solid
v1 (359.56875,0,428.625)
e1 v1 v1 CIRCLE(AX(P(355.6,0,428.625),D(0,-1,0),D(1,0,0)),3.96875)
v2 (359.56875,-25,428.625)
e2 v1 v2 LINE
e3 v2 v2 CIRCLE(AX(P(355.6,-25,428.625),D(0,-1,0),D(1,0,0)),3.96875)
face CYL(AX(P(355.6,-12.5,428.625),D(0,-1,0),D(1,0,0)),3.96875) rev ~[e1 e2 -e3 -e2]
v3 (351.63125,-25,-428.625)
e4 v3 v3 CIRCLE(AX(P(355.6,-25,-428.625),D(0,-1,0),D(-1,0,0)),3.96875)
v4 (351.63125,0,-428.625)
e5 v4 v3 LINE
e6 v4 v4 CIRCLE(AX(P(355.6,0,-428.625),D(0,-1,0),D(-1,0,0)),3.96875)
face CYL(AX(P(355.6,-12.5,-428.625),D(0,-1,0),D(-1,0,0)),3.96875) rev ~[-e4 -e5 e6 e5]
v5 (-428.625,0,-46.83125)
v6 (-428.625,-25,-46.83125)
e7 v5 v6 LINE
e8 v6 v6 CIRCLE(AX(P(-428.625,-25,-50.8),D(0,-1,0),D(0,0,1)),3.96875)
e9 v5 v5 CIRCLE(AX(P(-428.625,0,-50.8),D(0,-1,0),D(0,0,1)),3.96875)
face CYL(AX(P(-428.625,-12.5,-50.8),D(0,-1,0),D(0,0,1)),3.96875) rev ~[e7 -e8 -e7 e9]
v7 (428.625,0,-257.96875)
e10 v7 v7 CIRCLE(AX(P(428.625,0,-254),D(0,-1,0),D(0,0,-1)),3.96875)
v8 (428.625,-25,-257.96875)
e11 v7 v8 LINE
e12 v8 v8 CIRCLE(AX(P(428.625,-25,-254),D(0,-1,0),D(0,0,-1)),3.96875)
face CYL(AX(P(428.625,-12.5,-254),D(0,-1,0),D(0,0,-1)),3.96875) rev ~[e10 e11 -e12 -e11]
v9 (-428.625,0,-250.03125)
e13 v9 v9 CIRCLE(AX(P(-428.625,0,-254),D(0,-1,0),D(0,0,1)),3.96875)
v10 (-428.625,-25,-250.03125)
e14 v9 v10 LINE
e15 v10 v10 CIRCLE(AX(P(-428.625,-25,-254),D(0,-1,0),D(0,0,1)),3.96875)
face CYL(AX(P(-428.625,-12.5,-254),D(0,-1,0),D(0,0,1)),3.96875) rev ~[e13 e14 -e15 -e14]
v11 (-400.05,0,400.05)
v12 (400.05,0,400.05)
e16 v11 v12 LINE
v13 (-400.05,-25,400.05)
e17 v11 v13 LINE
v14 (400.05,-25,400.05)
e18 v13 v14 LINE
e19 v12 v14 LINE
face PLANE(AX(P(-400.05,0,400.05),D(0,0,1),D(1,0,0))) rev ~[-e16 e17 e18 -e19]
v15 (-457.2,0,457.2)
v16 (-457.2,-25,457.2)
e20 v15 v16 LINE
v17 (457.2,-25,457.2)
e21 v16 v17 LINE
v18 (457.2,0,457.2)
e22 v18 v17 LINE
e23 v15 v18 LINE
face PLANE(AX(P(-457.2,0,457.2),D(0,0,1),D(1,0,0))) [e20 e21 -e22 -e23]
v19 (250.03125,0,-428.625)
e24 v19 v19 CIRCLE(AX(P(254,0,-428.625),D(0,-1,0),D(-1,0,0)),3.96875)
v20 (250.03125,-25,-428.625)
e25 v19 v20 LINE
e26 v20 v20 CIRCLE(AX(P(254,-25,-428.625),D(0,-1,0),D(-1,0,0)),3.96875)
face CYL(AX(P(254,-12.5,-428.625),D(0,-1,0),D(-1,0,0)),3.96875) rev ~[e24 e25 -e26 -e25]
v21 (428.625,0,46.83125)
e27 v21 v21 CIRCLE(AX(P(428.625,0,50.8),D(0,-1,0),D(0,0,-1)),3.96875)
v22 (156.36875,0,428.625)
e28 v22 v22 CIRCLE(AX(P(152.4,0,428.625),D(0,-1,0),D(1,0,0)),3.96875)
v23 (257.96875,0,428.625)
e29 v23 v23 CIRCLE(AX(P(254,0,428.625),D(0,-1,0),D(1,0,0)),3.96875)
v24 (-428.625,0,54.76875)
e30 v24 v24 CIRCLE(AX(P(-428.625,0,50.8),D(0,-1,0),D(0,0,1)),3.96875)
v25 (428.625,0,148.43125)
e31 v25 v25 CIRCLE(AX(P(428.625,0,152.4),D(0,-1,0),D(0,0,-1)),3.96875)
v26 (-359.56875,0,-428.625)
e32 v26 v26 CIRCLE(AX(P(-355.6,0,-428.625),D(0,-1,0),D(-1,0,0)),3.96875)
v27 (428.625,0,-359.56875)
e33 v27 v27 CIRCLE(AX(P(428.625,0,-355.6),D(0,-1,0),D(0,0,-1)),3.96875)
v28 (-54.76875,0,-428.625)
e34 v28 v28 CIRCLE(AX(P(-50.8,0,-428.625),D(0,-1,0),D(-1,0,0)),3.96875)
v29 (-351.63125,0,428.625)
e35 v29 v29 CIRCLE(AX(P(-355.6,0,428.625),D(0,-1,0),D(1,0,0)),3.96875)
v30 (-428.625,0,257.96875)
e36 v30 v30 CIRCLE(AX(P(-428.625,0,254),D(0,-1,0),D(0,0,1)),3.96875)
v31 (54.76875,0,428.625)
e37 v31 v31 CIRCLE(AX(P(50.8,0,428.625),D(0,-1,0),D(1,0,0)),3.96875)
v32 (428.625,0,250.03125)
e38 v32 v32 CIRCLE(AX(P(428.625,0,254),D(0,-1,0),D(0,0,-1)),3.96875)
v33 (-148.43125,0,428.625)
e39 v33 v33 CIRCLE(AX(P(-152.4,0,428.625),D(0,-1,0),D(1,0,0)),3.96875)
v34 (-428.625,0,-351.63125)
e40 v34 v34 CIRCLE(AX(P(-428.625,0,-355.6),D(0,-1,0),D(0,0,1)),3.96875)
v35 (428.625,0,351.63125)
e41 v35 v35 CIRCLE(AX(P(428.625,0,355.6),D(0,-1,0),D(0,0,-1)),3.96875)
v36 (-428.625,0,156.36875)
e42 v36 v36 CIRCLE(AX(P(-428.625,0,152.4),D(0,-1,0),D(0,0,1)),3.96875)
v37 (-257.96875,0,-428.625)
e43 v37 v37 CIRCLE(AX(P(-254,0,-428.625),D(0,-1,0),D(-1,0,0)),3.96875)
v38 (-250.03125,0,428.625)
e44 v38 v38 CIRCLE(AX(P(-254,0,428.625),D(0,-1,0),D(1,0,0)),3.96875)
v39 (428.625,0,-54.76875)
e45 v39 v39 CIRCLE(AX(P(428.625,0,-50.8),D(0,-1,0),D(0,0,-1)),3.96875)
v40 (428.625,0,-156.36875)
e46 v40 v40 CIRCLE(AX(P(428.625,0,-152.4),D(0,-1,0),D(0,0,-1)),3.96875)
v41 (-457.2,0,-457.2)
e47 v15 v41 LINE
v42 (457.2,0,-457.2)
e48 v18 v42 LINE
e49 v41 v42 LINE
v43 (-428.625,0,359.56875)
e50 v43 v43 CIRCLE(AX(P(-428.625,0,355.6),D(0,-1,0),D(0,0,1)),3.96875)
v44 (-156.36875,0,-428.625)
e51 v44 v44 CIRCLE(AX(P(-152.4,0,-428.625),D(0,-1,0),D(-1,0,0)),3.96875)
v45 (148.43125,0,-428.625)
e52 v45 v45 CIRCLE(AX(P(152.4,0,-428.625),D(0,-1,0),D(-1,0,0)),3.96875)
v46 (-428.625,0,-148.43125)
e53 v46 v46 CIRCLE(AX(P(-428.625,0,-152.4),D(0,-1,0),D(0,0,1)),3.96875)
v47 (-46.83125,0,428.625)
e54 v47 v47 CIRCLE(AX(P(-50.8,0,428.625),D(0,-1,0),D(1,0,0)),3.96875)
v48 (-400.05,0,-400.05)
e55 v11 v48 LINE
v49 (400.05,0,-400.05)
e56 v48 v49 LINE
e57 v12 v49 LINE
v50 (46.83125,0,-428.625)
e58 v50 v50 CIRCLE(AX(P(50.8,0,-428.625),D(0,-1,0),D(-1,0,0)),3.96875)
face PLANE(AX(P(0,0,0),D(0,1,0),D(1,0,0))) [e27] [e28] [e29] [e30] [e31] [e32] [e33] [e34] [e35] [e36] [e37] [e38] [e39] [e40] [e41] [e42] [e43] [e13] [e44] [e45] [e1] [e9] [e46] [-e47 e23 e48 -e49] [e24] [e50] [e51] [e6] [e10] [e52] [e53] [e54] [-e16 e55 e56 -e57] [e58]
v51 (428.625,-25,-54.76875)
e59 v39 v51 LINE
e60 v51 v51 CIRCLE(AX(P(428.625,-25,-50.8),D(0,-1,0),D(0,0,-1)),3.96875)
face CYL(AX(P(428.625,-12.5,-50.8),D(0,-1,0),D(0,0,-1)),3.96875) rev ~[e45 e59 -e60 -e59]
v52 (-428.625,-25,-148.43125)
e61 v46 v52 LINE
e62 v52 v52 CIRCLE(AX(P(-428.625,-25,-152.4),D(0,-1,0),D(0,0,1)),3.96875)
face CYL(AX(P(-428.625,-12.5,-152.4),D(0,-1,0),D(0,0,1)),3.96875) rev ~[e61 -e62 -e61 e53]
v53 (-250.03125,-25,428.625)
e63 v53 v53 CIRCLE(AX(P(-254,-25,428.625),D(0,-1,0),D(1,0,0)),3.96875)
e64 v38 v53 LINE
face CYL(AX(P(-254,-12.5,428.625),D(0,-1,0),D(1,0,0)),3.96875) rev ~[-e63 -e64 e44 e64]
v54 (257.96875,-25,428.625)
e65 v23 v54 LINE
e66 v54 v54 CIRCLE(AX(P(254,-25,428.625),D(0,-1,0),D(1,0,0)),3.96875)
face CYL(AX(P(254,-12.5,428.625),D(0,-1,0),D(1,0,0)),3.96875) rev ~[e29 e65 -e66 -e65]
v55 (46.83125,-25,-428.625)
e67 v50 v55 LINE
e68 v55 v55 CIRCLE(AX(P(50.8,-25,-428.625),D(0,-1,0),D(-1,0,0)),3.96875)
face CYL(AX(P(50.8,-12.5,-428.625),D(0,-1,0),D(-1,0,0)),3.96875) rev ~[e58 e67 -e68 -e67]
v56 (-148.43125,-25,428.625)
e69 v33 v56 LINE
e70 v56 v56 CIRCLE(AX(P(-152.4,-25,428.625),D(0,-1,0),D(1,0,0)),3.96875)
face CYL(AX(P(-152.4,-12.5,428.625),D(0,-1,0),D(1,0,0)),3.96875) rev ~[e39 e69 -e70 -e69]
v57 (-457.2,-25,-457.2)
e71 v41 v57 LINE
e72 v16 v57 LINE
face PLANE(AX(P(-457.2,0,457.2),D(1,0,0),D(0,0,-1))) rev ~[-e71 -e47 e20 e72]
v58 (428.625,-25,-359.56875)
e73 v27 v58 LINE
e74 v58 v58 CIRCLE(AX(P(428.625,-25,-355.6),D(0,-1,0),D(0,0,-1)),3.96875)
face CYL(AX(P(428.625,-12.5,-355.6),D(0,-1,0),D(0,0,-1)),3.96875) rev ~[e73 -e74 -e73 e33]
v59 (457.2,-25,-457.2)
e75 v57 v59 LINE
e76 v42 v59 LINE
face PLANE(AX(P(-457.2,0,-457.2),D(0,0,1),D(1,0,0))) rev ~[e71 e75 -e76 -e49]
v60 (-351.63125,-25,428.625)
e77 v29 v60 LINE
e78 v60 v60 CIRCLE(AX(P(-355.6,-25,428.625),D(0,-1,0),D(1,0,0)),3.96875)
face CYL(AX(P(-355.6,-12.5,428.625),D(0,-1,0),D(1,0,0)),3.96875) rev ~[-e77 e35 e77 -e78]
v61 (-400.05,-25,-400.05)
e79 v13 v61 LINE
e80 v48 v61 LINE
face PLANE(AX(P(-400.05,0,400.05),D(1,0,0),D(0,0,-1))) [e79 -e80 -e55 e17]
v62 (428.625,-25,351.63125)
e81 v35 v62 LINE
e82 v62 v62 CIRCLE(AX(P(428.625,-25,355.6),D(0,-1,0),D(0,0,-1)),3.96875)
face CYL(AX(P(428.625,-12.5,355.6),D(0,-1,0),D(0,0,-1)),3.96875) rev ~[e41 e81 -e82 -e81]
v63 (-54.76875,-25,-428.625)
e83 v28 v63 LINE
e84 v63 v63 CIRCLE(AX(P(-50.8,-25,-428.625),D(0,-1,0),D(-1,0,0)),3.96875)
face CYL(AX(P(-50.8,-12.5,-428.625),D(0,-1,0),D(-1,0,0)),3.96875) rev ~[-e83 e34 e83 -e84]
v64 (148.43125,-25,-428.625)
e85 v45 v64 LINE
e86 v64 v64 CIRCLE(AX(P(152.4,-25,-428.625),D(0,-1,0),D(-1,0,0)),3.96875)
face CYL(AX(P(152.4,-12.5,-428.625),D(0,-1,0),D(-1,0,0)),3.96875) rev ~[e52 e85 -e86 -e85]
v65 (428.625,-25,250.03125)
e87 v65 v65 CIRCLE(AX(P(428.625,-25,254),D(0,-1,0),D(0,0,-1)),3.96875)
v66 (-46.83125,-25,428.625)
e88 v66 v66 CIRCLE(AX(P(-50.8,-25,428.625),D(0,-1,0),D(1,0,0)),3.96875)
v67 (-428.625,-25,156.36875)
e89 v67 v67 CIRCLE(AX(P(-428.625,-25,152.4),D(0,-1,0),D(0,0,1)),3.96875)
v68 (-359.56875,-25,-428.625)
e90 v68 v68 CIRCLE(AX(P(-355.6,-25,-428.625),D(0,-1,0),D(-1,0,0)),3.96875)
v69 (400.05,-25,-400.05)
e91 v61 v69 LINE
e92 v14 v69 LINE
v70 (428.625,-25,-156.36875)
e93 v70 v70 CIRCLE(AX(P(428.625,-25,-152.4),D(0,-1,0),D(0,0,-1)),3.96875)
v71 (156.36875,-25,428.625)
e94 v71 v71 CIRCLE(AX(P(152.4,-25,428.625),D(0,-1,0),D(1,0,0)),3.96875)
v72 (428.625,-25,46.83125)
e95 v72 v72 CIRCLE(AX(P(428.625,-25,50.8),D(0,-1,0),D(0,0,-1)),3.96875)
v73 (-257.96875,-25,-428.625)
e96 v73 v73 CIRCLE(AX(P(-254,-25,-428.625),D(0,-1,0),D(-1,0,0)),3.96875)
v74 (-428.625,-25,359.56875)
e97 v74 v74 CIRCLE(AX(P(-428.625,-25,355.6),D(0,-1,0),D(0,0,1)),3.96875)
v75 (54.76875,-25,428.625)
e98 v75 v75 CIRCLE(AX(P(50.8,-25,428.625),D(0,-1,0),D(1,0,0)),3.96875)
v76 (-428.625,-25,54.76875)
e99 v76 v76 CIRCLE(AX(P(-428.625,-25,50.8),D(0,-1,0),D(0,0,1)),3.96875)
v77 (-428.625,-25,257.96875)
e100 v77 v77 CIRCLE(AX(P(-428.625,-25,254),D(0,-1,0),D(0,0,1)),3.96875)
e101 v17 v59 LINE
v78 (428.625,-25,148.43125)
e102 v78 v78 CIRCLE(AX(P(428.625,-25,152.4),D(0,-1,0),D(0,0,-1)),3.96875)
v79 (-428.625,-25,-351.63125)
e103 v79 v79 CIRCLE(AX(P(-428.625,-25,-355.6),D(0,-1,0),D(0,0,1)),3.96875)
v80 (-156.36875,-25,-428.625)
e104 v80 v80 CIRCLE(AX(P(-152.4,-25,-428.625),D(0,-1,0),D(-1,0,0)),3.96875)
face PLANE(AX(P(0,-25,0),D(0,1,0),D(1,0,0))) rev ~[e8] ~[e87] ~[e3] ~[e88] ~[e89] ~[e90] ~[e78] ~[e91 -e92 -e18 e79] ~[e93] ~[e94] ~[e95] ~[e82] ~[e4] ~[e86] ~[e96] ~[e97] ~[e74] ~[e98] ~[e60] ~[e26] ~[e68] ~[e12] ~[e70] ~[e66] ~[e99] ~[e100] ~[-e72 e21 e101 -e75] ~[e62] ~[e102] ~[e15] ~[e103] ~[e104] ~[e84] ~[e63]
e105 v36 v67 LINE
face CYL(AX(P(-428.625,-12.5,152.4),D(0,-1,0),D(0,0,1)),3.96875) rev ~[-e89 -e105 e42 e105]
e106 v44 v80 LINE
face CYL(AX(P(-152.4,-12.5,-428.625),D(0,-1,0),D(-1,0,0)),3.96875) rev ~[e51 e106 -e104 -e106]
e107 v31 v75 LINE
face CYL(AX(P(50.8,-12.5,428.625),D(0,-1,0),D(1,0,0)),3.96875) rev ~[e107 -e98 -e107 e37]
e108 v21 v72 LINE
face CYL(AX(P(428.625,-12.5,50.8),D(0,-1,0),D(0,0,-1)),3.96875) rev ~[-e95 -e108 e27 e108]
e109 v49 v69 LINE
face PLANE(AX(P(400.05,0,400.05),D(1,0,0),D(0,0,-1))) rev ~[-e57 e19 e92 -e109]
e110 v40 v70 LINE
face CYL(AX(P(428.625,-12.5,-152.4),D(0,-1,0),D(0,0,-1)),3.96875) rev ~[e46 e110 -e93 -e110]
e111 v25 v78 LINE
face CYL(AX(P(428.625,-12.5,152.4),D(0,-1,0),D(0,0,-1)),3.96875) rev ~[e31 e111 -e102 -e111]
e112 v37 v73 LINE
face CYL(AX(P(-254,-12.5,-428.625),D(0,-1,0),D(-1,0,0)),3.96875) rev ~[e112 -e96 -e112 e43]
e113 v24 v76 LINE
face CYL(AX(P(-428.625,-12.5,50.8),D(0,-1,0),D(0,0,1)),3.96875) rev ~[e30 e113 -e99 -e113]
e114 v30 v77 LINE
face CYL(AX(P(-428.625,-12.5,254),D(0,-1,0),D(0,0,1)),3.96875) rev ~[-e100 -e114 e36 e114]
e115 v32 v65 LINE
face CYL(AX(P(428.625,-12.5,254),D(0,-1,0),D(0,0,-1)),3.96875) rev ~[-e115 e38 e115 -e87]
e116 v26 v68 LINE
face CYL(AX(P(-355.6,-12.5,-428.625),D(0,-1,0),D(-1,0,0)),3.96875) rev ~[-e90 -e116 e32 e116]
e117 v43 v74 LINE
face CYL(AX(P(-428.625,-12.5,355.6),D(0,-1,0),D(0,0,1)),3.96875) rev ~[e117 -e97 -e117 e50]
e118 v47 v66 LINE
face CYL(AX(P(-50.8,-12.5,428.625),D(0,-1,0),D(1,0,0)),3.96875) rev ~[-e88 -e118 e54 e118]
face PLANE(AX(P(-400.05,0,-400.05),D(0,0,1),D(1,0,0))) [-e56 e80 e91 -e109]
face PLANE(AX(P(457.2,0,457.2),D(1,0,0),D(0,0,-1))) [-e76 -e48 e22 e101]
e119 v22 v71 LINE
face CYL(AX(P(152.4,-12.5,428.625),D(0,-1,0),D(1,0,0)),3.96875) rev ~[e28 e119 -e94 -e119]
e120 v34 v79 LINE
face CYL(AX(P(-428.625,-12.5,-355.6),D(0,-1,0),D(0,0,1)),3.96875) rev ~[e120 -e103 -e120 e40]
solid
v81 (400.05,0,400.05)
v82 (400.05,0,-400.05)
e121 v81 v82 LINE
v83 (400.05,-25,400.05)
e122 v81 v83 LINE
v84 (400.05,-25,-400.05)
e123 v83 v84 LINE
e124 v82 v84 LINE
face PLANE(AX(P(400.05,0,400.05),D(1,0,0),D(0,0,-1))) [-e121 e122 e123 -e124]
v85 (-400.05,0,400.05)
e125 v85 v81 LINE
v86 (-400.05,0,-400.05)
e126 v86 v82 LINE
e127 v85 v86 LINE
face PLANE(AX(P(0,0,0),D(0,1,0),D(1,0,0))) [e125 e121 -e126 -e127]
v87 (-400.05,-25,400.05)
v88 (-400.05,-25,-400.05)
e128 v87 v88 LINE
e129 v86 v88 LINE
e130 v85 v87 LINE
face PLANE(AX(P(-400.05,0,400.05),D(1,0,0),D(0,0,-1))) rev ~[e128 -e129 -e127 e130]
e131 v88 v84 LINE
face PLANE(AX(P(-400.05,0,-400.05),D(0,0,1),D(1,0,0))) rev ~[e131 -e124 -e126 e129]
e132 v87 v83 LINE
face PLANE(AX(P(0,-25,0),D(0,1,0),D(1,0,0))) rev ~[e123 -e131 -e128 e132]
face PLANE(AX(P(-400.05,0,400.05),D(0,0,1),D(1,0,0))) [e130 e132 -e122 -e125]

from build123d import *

# Parameters (mm, degrees)
SKETCH1_W                    = 800.1
SKETCH1_H                    = 800.1
BOSS_EXTRUDE1_DEPTH          = 25
SKETCH2_W                    = 914.4
SKETCH2_H                    = 914.4
SKETCH2_W_2                  = 800.1
SKETCH2_H_2                  = 800.1
BOSS_EXTRUDE2_DEPTH          = 25
SKETCH3_W                    = 3.96875
SKETCH3_H                    = 25
LPATTERN1_COUNT              = 4
LPATTERN1_PITCH              = 101.6
LPATTERN1_COL_COUNT          = 5
LPATTERN1_COL_PITCH          = 101.6
CIRPATTERN1_COUNT            = 4
CIRPATTERN1_COPY_1_SKETCH_W  = 3.96875
CIRPATTERN1_COPY_1_SKETCH_H  = 25
CIRPATTERN1_COPY_2_SKETCH_W  = 3.96875
CIRPATTERN1_COPY_2_SKETCH_H  = 25
CIRPATTERN1_COPY_3_SKETCH_W  = 3.96875
CIRPATTERN1_COPY_3_SKETCH_H  = 25
CIRPATTERN1_COPY_4_SKETCH_W  = 3.96875
CIRPATTERN1_COPY_4_SKETCH_H  = 25
CIRPATTERN1_COPY_5_SKETCH_W  = 3.96875
CIRPATTERN1_COPY_5_SKETCH_H  = 25
CIRPATTERN1_COPY_6_SKETCH_W  = 3.96875
CIRPATTERN1_COPY_6_SKETCH_H  = 25
CIRPATTERN1_COPY_7_SKETCH_W  = 3.96875
CIRPATTERN1_COPY_7_SKETCH_H  = 25
CIRPATTERN1_COPY_8_SKETCH_W  = 3.96875
CIRPATTERN1_COPY_8_SKETCH_H  = 25
CIRPATTERN1_COPY_9_SKETCH_W  = 3.96875
CIRPATTERN1_COPY_9_SKETCH_H  = 25
CIRPATTERN1_COPY_10_SKETCH_W = 3.96875
CIRPATTERN1_COPY_10_SKETCH_H = 25
CIRPATTERN1_COPY_11_SKETCH_W = 3.96875
CIRPATTERN1_COPY_11_SKETCH_H = 25
CIRPATTERN1_COPY_12_SKETCH_W = 3.96875
CIRPATTERN1_COPY_12_SKETCH_H = 25
CIRPATTERN1_COPY_13_SKETCH_W = 3.96875
CIRPATTERN1_COPY_13_SKETCH_H = 25
CIRPATTERN1_COPY_14_SKETCH_W = 3.96875
CIRPATTERN1_COPY_14_SKETCH_H = 25
CIRPATTERN1_COPY_15_SKETCH_W = 3.96875
CIRPATTERN1_COPY_15_SKETCH_H = 25
CIRPATTERN1_COPY_16_SKETCH_W = 3.96875
CIRPATTERN1_COPY_16_SKETCH_H = 25
CIRPATTERN1_COPY_17_SKETCH_W = 3.96875
CIRPATTERN1_COPY_17_SKETCH_H = 25
CIRPATTERN1_COPY_18_SKETCH_W = 3.96875
CIRPATTERN1_COPY_18_SKETCH_H = 25
CIRPATTERN1_COPY_19_SKETCH_W = 3.96875
CIRPATTERN1_COPY_19_SKETCH_H = 25
CIRPATTERN1_COPY_20_SKETCH_W = 3.96875
CIRPATTERN1_COPY_20_SKETCH_H = 25
CIRPATTERN1_COPY_21_SKETCH_W = 3.96875
CIRPATTERN1_COPY_21_SKETCH_H = 25


with BuildPart() as part:
    # Sketch1 → Boss-Extrude1 (new body)
    with BuildSketch(Plane(origin=(0, 0, 0), x_dir=(1, 0, 0), z_dir=(0, 1, 0))):
        Rectangle(SKETCH1_W, SKETCH1_H)
    extrude(amount=-BOSS_EXTRUDE1_DEPTH)


with BuildPart() as body_2:
    # Sketch2 → Boss-Extrude2 (new body, through all)
    with BuildSketch(Plane(origin=(0, 0, 0), x_dir=(1, 0, 0), z_dir=(0, 1, 0))):
        Rectangle(SKETCH2_W, SKETCH2_H)
        Rectangle(SKETCH2_W_2, SKETCH2_H_2, mode=Mode.SUBTRACT)
    extrude(amount=-BOSS_EXTRUDE2_DEPTH)

    # Sketch3 → 3_8-16 Tapped Hole1 (revolve, cut)
    with BuildSketch(Plane(origin=(-428.625, 0, 50.8), x_dir=(0, 0, 1), z_dir=(1, 0, 0))):
        with Locations((1.984375, 12.5)):
            Rectangle(SKETCH3_W, SKETCH3_H)
    f_3_8_16_tapped_hole1 = revolve(axis=Axis((-428.625, 6.35, 50.8), (0, -1, 0)), mode=Mode.SUBTRACT)

    # LPattern1: 3_8-16 Tapped Hole1 ×4
    with Locations(*[(0, 0, i * LPATTERN1_PITCH) for i in range(1, LPATTERN1_COUNT)]):
        add(f_3_8_16_tapped_hole1, mode=Mode.SUBTRACT)

    # LPattern1 col: 3_8-16 Tapped Hole1 ×5
    with Locations(*[(0, 0, -i * LPATTERN1_COL_PITCH) for i in range(1, LPATTERN1_COL_COUNT)]):
        add(f_3_8_16_tapped_hole1, mode=Mode.SUBTRACT)

    # CirPattern1: 3_8-16 Tapped Hole1 ×4 about axis
    cirpattern1_axis = Axis((0, 0, 0), (0, 1, 0))
    for i in range(1, CIRPATTERN1_COUNT):
        add(f_3_8_16_tapped_hole1.rotate(cirpattern1_axis, i * 360 / CIRPATTERN1_COUNT), mode=Mode.SUBTRACT)

    # CirPattern1 copy 1 sketch → CirPattern1 copy 1 (revolve, cut)
    with BuildSketch(Plane(origin=(152.4, 0, 428.625), x_dir=(1, 0, 0), z_dir=(0, 0, -1))):
        with Locations((1.984375, 12.5)):
            Rectangle(CIRPATTERN1_COPY_1_SKETCH_W, CIRPATTERN1_COPY_1_SKETCH_H)
    revolve(axis=Axis((152.4, 6.35, 428.625), (0, -1, 0)), mode=Mode.SUBTRACT)

    # CirPattern1 copy 2 sketch → CirPattern1 copy 2 (revolve, cut)
    with BuildSketch(Plane(origin=(428.625, 0, -152.4), x_dir=(0, 0, -1), z_dir=(-1, 0, 0))):
        with Locations((1.984375, 12.5)):
            Rectangle(CIRPATTERN1_COPY_2_SKETCH_W, CIRPATTERN1_COPY_2_SKETCH_H)
    revolve(axis=Axis((428.625, 6.35, -152.4), (0, -1, 0)), mode=Mode.SUBTRACT)

    # CirPattern1 copy 3 sketch → CirPattern1 copy 3 (revolve, cut)
    with BuildSketch(Plane(origin=(-152.4, 0, -428.625), x_dir=(-1, 0, 0), z_dir=(0, 0, 1))):
        with Locations((1.984375, 12.5)):
            Rectangle(CIRPATTERN1_COPY_3_SKETCH_W, CIRPATTERN1_COPY_3_SKETCH_H)
    revolve(axis=Axis((-152.4, 6.35, -428.625), (0, -1, 0)), mode=Mode.SUBTRACT)

    # CirPattern1 copy 4 sketch → CirPattern1 copy 4 (revolve, cut)
    with BuildSketch(Plane(origin=(254, 0, 428.625), x_dir=(1, 0, 0), z_dir=(0, 0, -1))):
        with Locations((1.984375, 12.5)):
            Rectangle(CIRPATTERN1_COPY_4_SKETCH_W, CIRPATTERN1_COPY_4_SKETCH_H)
    revolve(axis=Axis((254, 6.35, 428.625), (0, -1, 0)), mode=Mode.SUBTRACT)

    # CirPattern1 copy 5 sketch → CirPattern1 copy 5 (revolve, cut)
    with BuildSketch(Plane(origin=(428.625, 0, -254), x_dir=(0, 0, -1), z_dir=(-1, 0, 0))):
        with Locations((1.984375, 12.5)):
            Rectangle(CIRPATTERN1_COPY_5_SKETCH_W, CIRPATTERN1_COPY_5_SKETCH_H)
    revolve(axis=Axis((428.625, 6.35, -254), (0, -1, 0)), mode=Mode.SUBTRACT)

    # CirPattern1 copy 6 sketch → CirPattern1 copy 6 (revolve, cut)
    with BuildSketch(Plane(origin=(-254, 0, -428.625), x_dir=(-1, 0, 0), z_dir=(0, 0, 1))):
        with Locations((1.984375, 12.5)):
            Rectangle(CIRPATTERN1_COPY_6_SKETCH_W, CIRPATTERN1_COPY_6_SKETCH_H)
    revolve(axis=Axis((-254, 6.35, -428.625), (0, -1, 0)), mode=Mode.SUBTRACT)

    # CirPattern1 copy 7 sketch → CirPattern1 copy 7 (revolve, cut)
    with BuildSketch(Plane(origin=(355.6, 0, 428.625), x_dir=(1, 0, 0), z_dir=(0, 0, -1))):
        with Locations((1.984375, 12.5)):
            Rectangle(CIRPATTERN1_COPY_7_SKETCH_W, CIRPATTERN1_COPY_7_SKETCH_H)
    revolve(axis=Axis((355.6, 6.35, 428.625), (0, -1, 0)), mode=Mode.SUBTRACT)

    # CirPattern1 copy 8 sketch → CirPattern1 copy 8 (revolve, cut)
    with BuildSketch(Plane(origin=(428.625, 0, -355.6), x_dir=(0, 0, -1), z_dir=(-1, 0, 0))):
        with Locations((1.984375, 12.5)):
            Rectangle(CIRPATTERN1_COPY_8_SKETCH_W, CIRPATTERN1_COPY_8_SKETCH_H)
    revolve(axis=Axis((428.625, 6.35, -355.6), (0, -1, 0)), mode=Mode.SUBTRACT)

    # CirPattern1 copy 9 sketch → CirPattern1 copy 9 (revolve, cut)
    with BuildSketch(Plane(origin=(-355.6, 0, -428.625), x_dir=(-1, 0, 0), z_dir=(0, 0, 1))):
        with Locations((1.984375, 12.5)):
            Rectangle(CIRPATTERN1_COPY_9_SKETCH_W, CIRPATTERN1_COPY_9_SKETCH_H)
    revolve(axis=Axis((-355.6, 6.35, -428.625), (0, -1, 0)), mode=Mode.SUBTRACT)

    # CirPattern1 copy 10 sketch → CirPattern1 copy 10 (revolve, cut)
    with BuildSketch(Plane(origin=(-50.8, 0, 428.625), x_dir=(1, 0, 0), z_dir=(0, 0, -1))):
        with Locations((1.984375, 12.5)):
            Rectangle(CIRPATTERN1_COPY_10_SKETCH_W, CIRPATTERN1_COPY_10_SKETCH_H)
    revolve(axis=Axis((-50.8, 6.35, 428.625), (0, -1, 0)), mode=Mode.SUBTRACT)

    # CirPattern1 copy 11 sketch → CirPattern1 copy 11 (revolve, cut)
    with BuildSketch(Plane(origin=(428.625, 0, 50.8), x_dir=(0, 0, -1), z_dir=(-1, 0, 0))):
        with Locations((1.984375, 12.5)):
            Rectangle(CIRPATTERN1_COPY_11_SKETCH_W, CIRPATTERN1_COPY_11_SKETCH_H)
    revolve(axis=Axis((428.625, 6.35, 50.8), (0, -1, 0)), mode=Mode.SUBTRACT)

    # CirPattern1 copy 12 sketch → CirPattern1 copy 12 (revolve, cut)
    with BuildSketch(Plane(origin=(50.8, 0, -428.625), x_dir=(-1, 0, 0), z_dir=(0, 0, 1))):
        with Locations((1.984375, 12.5)):
            Rectangle(CIRPATTERN1_COPY_12_SKETCH_W, CIRPATTERN1_COPY_12_SKETCH_H)
    revolve(axis=Axis((50.8, 6.35, -428.625), (0, -1, 0)), mode=Mode.SUBTRACT)

    # CirPattern1 copy 13 sketch → CirPattern1 copy 13 (revolve, cut)
    with BuildSketch(Plane(origin=(-152.4, 0, 428.625), x_dir=(1, 0, 0), z_dir=(0, 0, -1))):
        with Locations((1.984375, 12.5)):
            Rectangle(CIRPATTERN1_COPY_13_SKETCH_W, CIRPATTERN1_COPY_13_SKETCH_H)
    revolve(axis=Axis((-152.4, 6.35, 428.625), (0, -1, 0)), mode=Mode.SUBTRACT)

    # CirPattern1 copy 14 sketch → CirPattern1 copy 14 (revolve, cut)
    with BuildSketch(Plane(origin=(428.625, 0, 152.4), x_dir=(0, 0, -1), z_dir=(-1, 0, 0))):
        with Locations((1.984375, 12.5)):
            Rectangle(CIRPATTERN1_COPY_14_SKETCH_W, CIRPATTERN1_COPY_14_SKETCH_H)
    revolve(axis=Axis((428.625, 6.35, 152.4), (0, -1, 0)), mode=Mode.SUBTRACT)

    # CirPattern1 copy 15 sketch → CirPattern1 copy 15 (revolve, cut)
    with BuildSketch(Plane(origin=(152.4, 0, -428.625), x_dir=(-1, 0, 0), z_dir=(0, 0, 1))):
        with Locations((1.984375, 12.5)):
            Rectangle(CIRPATTERN1_COPY_15_SKETCH_W, CIRPATTERN1_COPY_15_SKETCH_H)
    revolve(axis=Axis((152.4, 6.35, -428.625), (0, -1, 0)), mode=Mode.SUBTRACT)

    # CirPattern1 copy 16 sketch → CirPattern1 copy 16 (revolve, cut)
    with BuildSketch(Plane(origin=(-254, 0, 428.625), x_dir=(1, 0, 0), z_dir=(0, 0, -1))):
        with Locations((1.984375, 12.5)):
            Rectangle(CIRPATTERN1_COPY_16_SKETCH_W, CIRPATTERN1_COPY_16_SKETCH_H)
    revolve(axis=Axis((-254, 6.35, 428.625), (0, -1, 0)), mode=Mode.SUBTRACT)

    # CirPattern1 copy 17 sketch → CirPattern1 copy 17 (revolve, cut)
    with BuildSketch(Plane(origin=(428.625, 0, 254), x_dir=(0, 0, -1), z_dir=(-1, 0, 0))):
        with Locations((1.984375, 12.5)):
            Rectangle(CIRPATTERN1_COPY_17_SKETCH_W, CIRPATTERN1_COPY_17_SKETCH_H)
    revolve(axis=Axis((428.625, 6.35, 254), (0, -1, 0)), mode=Mode.SUBTRACT)

    # CirPattern1 copy 18 sketch → CirPattern1 copy 18 (revolve, cut)
    with BuildSketch(Plane(origin=(254, 0, -428.625), x_dir=(-1, 0, 0), z_dir=(0, 0, 1))):
        with Locations((1.984375, 12.5)):
            Rectangle(CIRPATTERN1_COPY_18_SKETCH_W, CIRPATTERN1_COPY_18_SKETCH_H)
    revolve(axis=Axis((254, 6.35, -428.625), (0, -1, 0)), mode=Mode.SUBTRACT)

    # CirPattern1 copy 19 sketch → CirPattern1 copy 19 (revolve, cut)
    with BuildSketch(Plane(origin=(-355.6, 0, 428.625), x_dir=(1, 0, 0), z_dir=(0, 0, -1))):
        with Locations((1.984375, 12.5)):
            Rectangle(CIRPATTERN1_COPY_19_SKETCH_W, CIRPATTERN1_COPY_19_SKETCH_H)
    revolve(axis=Axis((-355.6, 6.35, 428.625), (0, -1, 0)), mode=Mode.SUBTRACT)

    # CirPattern1 copy 20 sketch → CirPattern1 copy 20 (revolve, cut)
    with BuildSketch(Plane(origin=(428.625, 0, 355.6), x_dir=(0, 0, -1), z_dir=(-1, 0, 0))):
        with Locations((1.984375, 12.5)):
            Rectangle(CIRPATTERN1_COPY_20_SKETCH_W, CIRPATTERN1_COPY_20_SKETCH_H)
    revolve(axis=Axis((428.625, 6.35, 355.6), (0, -1, 0)), mode=Mode.SUBTRACT)

    # CirPattern1 copy 21 sketch → CirPattern1 copy 21 (revolve, cut)
    with BuildSketch(Plane(origin=(355.6, 0, -428.625), x_dir=(-1, 0, 0), z_dir=(0, 0, 1))):
        with Locations((1.984375, 12.5)):
            Rectangle(CIRPATTERN1_COPY_21_SKETCH_W, CIRPATTERN1_COPY_21_SKETCH_H)
    revolve(axis=Axis((355.6, 6.35, -428.625), (0, -1, 0)), mode=Mode.SUBTRACT)


solid = Compound([part.part, body_2.part])
